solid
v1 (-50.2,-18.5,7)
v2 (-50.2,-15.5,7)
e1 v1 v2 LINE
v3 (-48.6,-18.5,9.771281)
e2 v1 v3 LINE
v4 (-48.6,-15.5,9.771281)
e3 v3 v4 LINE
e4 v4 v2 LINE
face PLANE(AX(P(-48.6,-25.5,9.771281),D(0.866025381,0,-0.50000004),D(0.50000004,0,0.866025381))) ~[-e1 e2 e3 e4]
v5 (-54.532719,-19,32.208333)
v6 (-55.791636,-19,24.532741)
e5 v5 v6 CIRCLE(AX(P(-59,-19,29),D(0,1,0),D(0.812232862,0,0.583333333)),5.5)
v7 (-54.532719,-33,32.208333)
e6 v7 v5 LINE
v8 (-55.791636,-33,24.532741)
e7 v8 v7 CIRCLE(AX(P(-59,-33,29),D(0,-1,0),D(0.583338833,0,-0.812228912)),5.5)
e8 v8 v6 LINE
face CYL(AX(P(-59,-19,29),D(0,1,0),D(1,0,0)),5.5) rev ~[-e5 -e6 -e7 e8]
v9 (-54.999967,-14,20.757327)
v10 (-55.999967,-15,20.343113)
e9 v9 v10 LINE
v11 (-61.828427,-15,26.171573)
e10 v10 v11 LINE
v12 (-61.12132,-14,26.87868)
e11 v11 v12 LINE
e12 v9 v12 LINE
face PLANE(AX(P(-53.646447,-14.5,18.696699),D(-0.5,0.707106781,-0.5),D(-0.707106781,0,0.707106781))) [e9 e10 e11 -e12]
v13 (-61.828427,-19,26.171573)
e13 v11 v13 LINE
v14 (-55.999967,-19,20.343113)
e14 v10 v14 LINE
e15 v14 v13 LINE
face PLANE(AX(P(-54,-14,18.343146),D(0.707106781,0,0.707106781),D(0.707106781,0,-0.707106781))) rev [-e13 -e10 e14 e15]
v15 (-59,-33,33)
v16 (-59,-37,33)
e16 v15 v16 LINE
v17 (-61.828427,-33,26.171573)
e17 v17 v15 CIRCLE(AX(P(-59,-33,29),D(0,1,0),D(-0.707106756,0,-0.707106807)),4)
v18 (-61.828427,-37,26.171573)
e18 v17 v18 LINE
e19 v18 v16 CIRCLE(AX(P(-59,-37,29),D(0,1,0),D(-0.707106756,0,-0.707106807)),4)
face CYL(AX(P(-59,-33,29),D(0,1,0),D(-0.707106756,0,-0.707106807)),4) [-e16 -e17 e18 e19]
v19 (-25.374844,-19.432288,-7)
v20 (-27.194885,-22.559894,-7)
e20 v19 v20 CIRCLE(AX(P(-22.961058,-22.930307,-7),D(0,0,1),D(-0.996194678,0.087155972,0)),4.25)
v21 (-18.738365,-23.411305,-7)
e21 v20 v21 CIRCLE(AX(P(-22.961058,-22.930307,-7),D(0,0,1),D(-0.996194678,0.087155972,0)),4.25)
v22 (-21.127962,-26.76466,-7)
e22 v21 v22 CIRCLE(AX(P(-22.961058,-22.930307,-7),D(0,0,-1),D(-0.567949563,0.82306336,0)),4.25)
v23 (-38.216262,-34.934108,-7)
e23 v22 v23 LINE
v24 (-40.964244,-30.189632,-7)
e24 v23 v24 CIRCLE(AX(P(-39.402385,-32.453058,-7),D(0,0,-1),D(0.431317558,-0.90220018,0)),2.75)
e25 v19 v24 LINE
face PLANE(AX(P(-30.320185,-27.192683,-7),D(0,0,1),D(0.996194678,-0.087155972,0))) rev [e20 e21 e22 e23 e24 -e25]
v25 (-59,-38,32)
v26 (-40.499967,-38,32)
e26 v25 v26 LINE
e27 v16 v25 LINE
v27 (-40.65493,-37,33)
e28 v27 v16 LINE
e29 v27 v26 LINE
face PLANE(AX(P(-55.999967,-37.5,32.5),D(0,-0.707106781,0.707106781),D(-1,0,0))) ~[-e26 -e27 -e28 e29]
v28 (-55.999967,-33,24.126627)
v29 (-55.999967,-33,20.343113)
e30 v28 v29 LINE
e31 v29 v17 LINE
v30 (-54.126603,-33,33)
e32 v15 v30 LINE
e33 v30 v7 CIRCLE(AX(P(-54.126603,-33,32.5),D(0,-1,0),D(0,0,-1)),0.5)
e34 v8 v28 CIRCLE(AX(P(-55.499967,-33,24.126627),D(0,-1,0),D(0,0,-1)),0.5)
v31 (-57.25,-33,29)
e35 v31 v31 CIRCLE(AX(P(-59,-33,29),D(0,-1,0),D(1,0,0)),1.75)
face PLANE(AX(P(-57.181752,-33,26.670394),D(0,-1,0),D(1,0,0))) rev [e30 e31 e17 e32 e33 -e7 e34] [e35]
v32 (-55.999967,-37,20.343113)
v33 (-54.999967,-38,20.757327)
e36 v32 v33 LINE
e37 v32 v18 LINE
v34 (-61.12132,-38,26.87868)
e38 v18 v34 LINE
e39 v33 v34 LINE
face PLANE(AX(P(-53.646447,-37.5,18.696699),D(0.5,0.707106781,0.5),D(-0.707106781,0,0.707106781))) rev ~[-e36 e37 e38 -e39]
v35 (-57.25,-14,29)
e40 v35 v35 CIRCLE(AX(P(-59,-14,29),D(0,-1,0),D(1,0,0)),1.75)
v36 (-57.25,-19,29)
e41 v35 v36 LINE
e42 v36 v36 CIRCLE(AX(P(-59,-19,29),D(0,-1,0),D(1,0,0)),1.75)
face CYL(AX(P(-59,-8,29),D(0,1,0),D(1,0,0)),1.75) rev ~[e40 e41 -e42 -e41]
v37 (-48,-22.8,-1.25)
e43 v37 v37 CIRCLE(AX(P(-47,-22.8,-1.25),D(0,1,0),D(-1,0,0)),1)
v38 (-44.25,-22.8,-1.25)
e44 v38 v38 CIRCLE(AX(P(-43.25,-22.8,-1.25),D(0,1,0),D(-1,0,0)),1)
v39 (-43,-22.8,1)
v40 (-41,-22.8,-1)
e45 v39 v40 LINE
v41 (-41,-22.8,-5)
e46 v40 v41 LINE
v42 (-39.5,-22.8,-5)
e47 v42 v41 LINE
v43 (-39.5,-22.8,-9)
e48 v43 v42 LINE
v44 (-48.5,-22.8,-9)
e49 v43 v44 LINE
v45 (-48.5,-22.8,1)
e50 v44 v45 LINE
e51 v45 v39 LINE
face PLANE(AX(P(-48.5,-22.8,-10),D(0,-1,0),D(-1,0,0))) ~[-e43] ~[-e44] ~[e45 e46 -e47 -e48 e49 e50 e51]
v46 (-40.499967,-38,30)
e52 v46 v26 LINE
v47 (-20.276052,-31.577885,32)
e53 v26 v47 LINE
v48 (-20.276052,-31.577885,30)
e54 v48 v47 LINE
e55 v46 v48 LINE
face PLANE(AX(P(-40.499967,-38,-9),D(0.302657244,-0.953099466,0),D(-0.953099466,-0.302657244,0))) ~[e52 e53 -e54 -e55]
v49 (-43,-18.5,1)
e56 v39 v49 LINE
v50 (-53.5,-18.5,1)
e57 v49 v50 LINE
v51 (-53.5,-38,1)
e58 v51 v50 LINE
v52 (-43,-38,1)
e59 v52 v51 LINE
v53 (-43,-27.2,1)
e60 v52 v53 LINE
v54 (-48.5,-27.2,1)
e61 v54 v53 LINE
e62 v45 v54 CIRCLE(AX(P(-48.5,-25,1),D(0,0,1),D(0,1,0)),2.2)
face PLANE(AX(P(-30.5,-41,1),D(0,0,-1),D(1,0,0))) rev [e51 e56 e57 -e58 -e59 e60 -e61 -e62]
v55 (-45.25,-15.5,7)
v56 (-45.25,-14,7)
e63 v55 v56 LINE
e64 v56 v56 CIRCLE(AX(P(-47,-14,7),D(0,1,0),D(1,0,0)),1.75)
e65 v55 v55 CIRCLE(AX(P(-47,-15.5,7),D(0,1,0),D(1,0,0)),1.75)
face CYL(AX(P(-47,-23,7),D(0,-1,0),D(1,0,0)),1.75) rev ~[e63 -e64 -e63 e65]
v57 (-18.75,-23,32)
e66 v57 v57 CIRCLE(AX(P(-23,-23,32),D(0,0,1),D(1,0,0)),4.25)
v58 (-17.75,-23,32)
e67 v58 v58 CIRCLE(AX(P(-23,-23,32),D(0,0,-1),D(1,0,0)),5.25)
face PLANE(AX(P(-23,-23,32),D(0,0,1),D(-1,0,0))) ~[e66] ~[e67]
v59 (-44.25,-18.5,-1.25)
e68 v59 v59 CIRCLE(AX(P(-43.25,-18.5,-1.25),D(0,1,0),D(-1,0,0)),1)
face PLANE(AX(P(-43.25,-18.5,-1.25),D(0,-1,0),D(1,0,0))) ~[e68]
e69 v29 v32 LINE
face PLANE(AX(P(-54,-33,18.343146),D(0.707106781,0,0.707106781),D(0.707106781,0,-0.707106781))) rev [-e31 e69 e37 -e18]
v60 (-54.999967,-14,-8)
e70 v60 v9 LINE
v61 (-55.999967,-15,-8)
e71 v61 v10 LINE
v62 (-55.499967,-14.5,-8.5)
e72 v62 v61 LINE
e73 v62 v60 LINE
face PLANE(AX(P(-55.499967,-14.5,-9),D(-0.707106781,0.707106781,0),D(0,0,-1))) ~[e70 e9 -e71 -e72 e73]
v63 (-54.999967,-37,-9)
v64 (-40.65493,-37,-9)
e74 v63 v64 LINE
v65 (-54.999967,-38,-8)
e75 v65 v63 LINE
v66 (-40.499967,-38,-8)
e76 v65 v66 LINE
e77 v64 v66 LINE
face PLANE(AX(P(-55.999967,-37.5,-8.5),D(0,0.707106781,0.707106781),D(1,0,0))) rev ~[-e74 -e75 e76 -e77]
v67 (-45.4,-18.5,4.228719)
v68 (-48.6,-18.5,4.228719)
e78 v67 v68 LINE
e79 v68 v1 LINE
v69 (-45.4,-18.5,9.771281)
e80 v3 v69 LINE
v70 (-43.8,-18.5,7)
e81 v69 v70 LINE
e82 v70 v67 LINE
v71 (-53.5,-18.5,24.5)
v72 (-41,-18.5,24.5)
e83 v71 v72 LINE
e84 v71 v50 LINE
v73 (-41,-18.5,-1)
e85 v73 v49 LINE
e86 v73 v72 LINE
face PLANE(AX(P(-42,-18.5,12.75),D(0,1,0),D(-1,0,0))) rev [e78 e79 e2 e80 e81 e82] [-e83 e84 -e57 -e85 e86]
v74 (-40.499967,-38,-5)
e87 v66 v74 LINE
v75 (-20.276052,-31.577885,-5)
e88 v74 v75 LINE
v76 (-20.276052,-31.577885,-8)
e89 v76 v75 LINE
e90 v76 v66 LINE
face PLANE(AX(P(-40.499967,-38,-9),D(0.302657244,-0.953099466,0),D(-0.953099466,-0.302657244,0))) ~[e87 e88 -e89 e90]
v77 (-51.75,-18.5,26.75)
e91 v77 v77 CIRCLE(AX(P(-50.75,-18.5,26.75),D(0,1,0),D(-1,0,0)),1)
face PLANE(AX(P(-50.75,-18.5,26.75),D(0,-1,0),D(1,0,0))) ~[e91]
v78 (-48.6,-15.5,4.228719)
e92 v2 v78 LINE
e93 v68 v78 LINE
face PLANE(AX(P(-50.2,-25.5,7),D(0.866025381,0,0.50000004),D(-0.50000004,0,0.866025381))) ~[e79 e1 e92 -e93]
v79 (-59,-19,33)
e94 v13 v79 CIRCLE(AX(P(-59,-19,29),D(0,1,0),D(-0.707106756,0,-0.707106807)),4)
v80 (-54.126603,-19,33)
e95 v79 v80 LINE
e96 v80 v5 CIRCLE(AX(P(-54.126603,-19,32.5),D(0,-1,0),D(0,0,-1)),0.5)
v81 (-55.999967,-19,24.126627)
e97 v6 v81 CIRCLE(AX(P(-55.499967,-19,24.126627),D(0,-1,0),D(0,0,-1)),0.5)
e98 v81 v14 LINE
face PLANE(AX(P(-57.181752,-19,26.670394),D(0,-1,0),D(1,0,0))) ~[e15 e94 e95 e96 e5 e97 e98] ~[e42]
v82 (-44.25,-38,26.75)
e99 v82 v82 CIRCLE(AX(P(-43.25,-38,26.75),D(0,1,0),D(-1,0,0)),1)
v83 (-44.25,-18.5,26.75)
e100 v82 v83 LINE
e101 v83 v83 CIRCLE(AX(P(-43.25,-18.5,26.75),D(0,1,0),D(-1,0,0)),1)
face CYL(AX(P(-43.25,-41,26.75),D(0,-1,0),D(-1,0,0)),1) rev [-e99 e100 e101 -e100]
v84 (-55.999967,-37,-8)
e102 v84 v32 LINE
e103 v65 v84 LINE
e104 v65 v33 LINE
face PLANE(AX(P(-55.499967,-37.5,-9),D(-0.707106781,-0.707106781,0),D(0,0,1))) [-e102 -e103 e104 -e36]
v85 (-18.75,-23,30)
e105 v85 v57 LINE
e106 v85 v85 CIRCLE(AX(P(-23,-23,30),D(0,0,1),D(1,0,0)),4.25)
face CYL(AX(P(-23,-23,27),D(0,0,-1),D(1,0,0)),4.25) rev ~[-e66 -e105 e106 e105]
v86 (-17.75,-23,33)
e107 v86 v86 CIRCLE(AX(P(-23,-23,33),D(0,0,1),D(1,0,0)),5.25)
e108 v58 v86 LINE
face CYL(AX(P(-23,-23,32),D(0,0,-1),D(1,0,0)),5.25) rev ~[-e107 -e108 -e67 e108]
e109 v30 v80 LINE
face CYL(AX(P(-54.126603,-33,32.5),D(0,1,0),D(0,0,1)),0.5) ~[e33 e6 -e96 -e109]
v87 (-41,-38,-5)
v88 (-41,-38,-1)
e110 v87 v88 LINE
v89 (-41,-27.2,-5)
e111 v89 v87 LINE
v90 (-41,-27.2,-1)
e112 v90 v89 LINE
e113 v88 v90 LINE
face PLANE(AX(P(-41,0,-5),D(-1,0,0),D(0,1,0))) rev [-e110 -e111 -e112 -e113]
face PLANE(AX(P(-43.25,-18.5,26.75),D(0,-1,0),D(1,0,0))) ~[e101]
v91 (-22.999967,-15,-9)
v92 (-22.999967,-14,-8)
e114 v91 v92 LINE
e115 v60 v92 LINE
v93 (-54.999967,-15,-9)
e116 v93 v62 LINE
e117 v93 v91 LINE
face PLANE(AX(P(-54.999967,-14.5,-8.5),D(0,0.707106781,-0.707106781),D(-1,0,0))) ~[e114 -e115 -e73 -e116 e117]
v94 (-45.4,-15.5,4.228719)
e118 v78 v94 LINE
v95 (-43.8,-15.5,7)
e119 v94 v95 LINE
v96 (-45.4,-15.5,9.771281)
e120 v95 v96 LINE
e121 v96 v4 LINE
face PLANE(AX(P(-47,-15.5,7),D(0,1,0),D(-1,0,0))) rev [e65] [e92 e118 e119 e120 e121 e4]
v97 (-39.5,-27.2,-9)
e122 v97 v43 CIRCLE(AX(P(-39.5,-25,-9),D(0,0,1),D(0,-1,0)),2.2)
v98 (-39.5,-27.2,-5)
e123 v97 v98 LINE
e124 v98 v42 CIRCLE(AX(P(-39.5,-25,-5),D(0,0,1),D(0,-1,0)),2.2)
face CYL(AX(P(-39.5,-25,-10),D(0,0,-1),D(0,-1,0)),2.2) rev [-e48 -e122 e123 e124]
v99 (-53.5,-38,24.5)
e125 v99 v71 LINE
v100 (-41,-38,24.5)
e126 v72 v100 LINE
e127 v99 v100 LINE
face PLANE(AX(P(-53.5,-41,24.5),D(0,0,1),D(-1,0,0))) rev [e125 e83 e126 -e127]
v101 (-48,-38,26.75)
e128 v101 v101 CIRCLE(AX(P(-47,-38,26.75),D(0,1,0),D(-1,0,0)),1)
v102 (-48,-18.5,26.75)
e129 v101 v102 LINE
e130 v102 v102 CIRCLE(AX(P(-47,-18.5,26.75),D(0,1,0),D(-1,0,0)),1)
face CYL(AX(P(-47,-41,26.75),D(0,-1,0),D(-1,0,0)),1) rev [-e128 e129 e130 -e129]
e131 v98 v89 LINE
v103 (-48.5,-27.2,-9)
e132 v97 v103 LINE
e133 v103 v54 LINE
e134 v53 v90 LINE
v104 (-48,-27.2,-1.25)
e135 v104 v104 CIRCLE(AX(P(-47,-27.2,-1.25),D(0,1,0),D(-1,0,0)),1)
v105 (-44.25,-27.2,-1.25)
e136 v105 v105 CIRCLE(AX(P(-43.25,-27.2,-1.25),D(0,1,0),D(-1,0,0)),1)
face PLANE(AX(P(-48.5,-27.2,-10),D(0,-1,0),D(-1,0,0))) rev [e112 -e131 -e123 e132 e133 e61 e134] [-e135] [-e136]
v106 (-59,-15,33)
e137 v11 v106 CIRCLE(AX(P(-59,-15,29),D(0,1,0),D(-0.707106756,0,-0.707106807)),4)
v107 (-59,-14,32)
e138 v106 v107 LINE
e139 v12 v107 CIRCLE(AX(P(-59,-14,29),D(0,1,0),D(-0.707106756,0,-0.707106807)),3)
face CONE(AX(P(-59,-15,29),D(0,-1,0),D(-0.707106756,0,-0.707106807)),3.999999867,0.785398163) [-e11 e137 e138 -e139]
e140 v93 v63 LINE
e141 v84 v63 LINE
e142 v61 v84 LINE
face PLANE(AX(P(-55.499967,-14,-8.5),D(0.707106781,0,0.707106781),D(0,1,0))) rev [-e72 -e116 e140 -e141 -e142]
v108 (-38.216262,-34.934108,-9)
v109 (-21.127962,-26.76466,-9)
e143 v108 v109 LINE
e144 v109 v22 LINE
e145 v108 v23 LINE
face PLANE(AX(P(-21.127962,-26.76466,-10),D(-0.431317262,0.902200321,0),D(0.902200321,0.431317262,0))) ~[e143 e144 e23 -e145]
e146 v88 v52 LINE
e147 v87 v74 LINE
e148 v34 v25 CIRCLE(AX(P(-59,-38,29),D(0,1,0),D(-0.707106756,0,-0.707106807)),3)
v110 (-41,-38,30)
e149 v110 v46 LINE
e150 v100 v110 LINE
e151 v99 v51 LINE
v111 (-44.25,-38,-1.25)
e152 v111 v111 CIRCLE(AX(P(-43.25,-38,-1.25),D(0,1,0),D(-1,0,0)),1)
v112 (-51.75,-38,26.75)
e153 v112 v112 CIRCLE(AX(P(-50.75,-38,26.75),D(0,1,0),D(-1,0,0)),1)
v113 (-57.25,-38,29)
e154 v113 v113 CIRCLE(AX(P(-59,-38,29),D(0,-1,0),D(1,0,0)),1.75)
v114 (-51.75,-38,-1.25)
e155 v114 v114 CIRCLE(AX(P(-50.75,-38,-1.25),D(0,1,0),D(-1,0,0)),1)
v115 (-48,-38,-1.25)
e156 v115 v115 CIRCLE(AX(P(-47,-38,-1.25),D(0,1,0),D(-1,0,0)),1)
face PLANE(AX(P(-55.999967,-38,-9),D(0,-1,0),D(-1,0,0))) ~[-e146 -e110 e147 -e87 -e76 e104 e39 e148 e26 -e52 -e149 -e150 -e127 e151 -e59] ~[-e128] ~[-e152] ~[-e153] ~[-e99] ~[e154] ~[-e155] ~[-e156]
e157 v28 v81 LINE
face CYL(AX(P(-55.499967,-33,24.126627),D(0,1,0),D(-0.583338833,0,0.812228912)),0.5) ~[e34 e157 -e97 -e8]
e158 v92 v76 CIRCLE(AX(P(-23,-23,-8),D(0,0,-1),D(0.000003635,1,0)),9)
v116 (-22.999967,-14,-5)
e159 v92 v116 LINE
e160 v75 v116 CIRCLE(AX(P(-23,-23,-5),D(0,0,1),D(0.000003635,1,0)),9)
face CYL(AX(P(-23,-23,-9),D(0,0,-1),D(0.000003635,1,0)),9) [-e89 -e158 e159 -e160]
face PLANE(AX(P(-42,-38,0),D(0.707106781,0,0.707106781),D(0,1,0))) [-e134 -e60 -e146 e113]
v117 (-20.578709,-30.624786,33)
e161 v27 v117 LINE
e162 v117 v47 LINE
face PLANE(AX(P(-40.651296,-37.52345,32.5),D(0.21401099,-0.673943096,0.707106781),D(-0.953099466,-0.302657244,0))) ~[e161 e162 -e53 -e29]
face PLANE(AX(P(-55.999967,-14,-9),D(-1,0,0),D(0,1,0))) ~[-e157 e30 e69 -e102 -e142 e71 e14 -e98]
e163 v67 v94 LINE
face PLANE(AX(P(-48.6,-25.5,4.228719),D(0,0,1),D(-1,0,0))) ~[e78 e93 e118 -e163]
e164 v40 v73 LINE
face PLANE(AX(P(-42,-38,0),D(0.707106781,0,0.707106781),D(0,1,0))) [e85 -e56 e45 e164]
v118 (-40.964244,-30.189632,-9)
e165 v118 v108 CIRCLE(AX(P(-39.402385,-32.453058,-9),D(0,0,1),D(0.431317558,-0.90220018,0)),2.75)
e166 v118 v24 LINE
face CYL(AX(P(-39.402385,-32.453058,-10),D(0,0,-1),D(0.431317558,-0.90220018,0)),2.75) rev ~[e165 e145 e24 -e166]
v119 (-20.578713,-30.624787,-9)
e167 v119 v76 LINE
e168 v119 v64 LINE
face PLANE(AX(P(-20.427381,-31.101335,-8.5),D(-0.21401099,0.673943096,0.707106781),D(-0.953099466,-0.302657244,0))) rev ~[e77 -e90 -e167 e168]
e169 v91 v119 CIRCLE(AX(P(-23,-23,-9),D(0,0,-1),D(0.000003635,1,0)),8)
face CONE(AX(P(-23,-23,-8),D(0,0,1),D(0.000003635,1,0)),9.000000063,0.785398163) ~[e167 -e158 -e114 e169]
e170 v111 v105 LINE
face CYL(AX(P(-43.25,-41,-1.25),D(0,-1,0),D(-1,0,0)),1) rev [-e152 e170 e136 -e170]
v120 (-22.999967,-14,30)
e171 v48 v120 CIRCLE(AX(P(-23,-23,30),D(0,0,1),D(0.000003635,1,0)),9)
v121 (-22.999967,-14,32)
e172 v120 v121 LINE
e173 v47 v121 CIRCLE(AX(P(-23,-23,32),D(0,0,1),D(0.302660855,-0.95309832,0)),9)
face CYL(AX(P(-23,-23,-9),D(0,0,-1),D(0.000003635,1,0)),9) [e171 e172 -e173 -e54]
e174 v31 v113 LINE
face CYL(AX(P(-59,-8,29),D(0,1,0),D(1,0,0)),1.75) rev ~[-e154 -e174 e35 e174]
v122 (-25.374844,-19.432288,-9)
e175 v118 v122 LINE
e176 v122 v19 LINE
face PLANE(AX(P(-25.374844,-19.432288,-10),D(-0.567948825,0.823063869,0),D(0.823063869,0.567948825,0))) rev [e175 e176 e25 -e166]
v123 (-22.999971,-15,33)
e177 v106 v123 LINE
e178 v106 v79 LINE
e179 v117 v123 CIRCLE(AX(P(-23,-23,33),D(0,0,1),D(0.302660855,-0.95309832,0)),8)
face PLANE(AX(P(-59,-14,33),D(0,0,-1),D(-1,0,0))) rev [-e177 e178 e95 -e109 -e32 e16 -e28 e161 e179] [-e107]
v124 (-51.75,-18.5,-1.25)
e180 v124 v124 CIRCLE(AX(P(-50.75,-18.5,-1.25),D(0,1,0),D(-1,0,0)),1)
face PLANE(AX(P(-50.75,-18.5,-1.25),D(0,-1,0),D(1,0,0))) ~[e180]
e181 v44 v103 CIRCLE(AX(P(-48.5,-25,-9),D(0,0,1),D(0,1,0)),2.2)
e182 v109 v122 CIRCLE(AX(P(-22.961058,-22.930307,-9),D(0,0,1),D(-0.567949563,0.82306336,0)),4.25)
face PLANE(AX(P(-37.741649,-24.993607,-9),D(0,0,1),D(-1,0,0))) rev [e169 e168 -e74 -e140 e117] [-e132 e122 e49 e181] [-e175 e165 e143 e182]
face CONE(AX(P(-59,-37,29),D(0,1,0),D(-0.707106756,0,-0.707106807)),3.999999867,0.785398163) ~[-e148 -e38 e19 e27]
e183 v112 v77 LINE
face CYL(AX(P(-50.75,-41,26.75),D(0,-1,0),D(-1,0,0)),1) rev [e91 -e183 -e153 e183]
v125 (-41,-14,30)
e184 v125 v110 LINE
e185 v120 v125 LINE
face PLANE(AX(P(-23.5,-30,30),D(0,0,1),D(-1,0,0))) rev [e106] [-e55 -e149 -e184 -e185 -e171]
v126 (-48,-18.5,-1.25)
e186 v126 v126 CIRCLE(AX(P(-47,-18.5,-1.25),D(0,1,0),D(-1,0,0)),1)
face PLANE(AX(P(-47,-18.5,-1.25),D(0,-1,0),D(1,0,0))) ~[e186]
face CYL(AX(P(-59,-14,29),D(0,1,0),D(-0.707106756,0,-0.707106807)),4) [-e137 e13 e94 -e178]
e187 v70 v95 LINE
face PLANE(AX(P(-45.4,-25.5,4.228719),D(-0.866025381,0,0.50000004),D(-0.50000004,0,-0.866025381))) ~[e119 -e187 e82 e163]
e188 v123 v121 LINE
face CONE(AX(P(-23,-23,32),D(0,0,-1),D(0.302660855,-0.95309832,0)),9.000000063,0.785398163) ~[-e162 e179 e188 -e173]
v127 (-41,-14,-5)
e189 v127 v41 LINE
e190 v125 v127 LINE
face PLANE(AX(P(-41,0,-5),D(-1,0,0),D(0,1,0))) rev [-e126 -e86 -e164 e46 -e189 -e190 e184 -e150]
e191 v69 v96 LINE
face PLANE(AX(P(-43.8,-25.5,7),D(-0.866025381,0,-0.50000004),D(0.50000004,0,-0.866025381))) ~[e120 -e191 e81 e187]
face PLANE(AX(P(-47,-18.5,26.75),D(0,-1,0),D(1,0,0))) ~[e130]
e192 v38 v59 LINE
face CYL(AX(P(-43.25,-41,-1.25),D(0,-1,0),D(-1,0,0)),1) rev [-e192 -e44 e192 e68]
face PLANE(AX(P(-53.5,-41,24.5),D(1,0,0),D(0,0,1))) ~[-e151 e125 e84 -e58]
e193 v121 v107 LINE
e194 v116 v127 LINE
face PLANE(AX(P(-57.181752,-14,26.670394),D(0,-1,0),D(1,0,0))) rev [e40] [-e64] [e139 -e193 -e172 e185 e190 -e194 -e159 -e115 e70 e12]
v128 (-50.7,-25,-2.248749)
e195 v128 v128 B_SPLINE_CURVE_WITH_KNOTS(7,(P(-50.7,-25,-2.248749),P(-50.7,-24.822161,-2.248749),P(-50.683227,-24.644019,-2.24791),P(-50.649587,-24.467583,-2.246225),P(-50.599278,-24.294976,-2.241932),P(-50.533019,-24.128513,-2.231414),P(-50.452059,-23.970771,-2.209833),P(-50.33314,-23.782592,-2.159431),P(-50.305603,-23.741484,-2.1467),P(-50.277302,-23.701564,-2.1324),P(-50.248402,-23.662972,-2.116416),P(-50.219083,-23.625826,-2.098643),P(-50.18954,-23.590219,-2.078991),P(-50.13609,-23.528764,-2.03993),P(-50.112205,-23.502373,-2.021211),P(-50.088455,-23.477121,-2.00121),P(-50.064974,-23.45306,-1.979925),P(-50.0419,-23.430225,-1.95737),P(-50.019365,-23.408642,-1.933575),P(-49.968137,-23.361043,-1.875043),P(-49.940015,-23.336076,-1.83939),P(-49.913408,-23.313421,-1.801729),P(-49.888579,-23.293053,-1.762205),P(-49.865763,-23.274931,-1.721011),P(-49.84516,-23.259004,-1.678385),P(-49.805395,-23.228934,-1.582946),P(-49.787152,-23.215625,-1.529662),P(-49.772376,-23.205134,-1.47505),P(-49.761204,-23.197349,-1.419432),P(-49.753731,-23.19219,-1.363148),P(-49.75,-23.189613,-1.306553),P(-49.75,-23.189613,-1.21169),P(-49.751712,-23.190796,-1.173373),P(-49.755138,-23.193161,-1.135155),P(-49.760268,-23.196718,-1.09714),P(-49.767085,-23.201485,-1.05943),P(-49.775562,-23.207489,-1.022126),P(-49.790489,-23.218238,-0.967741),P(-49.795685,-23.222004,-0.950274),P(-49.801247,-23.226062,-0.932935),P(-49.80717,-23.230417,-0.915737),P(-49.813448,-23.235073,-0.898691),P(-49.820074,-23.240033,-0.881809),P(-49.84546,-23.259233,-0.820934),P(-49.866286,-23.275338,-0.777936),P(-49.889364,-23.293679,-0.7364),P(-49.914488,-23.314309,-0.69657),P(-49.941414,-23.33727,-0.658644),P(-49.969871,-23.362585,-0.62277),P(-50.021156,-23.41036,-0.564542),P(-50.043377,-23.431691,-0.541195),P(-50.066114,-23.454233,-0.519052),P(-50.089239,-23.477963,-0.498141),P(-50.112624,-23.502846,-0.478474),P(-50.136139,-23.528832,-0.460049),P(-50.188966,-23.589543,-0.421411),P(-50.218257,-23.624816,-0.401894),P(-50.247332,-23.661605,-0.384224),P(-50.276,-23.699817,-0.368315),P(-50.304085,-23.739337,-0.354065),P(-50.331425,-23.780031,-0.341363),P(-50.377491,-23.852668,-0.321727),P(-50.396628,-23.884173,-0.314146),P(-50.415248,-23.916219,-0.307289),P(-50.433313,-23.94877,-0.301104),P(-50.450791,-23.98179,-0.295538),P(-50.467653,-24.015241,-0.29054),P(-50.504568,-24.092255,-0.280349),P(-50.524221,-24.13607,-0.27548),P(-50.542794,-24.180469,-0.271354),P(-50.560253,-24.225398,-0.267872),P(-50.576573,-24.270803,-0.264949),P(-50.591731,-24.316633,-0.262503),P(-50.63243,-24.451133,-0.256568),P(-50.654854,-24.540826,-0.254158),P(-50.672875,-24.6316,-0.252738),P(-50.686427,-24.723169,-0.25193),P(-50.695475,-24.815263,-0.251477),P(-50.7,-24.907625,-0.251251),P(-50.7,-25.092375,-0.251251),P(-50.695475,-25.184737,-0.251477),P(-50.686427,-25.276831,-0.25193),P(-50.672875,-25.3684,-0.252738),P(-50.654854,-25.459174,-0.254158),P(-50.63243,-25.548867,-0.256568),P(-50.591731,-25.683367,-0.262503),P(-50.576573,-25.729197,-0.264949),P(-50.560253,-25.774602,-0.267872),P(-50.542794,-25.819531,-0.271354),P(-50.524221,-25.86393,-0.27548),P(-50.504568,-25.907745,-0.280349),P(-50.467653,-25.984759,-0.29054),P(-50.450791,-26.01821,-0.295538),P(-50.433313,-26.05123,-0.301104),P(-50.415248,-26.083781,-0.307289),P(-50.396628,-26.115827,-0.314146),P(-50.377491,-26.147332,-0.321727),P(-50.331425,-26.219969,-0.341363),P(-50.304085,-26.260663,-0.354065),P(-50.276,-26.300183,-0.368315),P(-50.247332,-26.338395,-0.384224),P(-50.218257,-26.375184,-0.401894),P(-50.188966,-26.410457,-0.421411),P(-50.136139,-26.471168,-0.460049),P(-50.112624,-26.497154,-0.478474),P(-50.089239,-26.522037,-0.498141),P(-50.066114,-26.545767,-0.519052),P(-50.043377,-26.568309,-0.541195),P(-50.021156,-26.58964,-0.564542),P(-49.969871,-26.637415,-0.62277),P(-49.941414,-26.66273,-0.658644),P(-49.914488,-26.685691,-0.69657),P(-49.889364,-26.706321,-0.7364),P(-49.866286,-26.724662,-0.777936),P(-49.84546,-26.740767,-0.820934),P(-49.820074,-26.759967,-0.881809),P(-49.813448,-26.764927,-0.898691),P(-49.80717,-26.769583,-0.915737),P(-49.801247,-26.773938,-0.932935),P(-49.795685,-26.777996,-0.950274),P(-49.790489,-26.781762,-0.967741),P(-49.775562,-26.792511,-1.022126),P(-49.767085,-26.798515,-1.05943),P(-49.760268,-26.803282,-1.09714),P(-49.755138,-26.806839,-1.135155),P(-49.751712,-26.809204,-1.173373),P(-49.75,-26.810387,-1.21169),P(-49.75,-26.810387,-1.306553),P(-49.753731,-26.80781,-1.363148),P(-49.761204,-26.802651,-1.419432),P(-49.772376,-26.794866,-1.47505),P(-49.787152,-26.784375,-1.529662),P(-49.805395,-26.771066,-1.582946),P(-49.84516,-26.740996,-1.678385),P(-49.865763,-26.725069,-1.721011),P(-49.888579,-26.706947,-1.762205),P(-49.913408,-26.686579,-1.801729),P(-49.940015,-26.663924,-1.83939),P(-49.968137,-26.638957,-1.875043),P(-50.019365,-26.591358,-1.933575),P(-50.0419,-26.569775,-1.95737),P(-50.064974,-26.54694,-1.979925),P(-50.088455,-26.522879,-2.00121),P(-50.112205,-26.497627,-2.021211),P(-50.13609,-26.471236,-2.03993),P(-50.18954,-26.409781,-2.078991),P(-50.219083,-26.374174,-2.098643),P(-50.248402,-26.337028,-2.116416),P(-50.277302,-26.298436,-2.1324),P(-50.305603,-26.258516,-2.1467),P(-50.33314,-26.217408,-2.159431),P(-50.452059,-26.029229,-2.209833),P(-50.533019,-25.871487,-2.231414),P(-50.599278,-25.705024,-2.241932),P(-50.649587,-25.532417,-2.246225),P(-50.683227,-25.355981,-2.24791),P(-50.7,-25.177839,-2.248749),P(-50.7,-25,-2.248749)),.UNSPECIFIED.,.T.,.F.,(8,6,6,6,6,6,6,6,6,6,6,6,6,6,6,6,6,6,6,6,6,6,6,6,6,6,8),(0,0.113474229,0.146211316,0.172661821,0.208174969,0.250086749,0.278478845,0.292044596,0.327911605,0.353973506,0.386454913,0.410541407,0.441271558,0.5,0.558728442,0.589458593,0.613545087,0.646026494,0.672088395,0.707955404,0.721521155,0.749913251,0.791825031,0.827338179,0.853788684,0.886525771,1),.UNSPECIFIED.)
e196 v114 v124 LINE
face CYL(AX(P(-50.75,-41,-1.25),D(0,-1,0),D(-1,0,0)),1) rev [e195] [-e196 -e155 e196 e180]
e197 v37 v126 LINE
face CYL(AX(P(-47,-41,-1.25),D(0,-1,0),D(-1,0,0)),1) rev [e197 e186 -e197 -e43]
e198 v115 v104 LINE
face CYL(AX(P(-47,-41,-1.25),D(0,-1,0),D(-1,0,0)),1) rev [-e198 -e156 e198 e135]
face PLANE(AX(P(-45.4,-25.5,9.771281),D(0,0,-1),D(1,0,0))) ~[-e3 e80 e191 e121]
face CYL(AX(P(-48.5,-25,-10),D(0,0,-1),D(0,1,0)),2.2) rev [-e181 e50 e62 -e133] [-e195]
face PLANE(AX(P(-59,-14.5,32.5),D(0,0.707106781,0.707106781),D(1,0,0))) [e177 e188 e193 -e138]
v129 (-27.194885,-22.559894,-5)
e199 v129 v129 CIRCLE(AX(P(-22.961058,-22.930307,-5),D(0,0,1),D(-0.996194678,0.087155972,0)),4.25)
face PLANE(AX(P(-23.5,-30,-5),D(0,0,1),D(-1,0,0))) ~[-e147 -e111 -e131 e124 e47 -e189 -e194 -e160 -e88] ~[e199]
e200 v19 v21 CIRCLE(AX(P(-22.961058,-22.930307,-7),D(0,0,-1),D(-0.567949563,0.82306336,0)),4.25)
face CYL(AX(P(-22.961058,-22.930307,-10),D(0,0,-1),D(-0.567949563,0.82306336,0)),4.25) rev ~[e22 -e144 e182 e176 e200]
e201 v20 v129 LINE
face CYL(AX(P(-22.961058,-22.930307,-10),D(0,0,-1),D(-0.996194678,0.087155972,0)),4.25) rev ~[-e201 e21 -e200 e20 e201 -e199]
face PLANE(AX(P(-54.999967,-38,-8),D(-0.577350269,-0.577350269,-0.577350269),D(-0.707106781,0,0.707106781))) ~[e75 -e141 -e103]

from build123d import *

# Parameters (mm, degrees)
SKETCH016_R            = 4.25
PAD015_DEPTH           = 30
PAD014_DEPTH           = 3
PRISM008_DEPTH         = 10
PRISM008_ROLL_ANGLE    = 90
PAD011_DEPTH           = 15
SKETCH010_R            = 1
PAD010_DEPTH           = 22.5
CYLINDER017_R          = 4.25
CYLINDER017_DEPTH      = 10
CYLINDER016_R          = 5.25
CYLINDER016_DEPTH      = 10
CYLINDER014_R          = 1.75
CYLINDER014_DEPTH      = 36
CYLINDER014_ROLL_ANGLE = -90
PAD004_DEPTH           = 5
CHAMFER002_SIZE        = 1
CYLINDER012_R          = 1.75
CYLINDER012_DEPTH      = 11
CYLINDER012_ROLL_ANGLE = 90
CYLINDER013_R          = 5.5
CYLINDER013_DEPTH      = 14
CYLINDER013_ROLL_ANGLE = -90
BOX010_W               = 35
BOX010_H               = 60
BOX010_DEPTH           = 35
PAD003_DEPTH           = 42
FILLET002_R            = 0.5
CHAMFER003_SIZE        = 1
CHAMFER006_SIZE        = 2
CHAMFER007_SIZE        = 1


with BuildPart() as pad015:
    # Sketch016 → Pad015 (new body)
    with BuildSketch(Plane(origin=(23.25, 34, -10), x_dir=(-0.996195, -0.087156, 0), z_dir=(0, 0, 1))):
        with Locations((47, 7)):
            Circle(SKETCH016_R)
    extrude(amount=PAD015_DEPTH)


with BuildPart() as fusion011:
    # Sketch014 → Pad014 (new body)
    with BuildSketch(Plane(origin=(23.25, 34, -10), x_dir=(-0.996195, -0.087156, 0), z_dir=(0, 0, 1))):
        with BuildLine():
            ThreePointArc((49.709474, 10.274332), (43.52198, 9.442514), (44.839693, 3.340003))
            Line((44.839693, 3.340003), (61.15095, -6.287705))
            ThreePointArc((61.15095, -6.287705), (64.799282, -5.499923), (64.301984, -1.800786))
            Line((49.709474, 10.274332), (64.301984, -1.800786))
        make_face()
    extrude(amount=PAD014_DEPTH)

    # Fusion011: union Pad015
    add(pad015.part)


with BuildPart() as fake_axis_nut_room:
    # Prism008 → Prism008 (new body)
    with BuildSketch(Plane.XY):
        Polygon((3.2, 0), (1.6, 2.771281), (-1.6, 2.771281), (-3.2, 0), (-1.6, -2.771281), (1.6, -2.771281), align=None)
    extrude(amount=PRISM008_DEPTH)


with BuildPart() as fake_axis_nut_room_1:
    # Prism008 roll: moved
    add(fake_axis_nut_room.part.rotate(Axis((0, 0, 0), (1, 0, 0)), PRISM008_ROLL_ANGLE))


with BuildPart() as fake_axis_nut_room_2:
    # Prism008 placement: moved
    add(fake_axis_nut_room_1.part.moved(Location((-47, 25.5, 7))))


with BuildPart() as pad011:
    # Sketch011 → Pad011 (new body)
    with BuildSketch(Plane(origin=(0, 0, -10), x_dir=(1, 0, 0), z_dir=(0, 0, -1))):
        with BuildLine():
            ThreePointArc((-48.5, -22.8), (-50.7, -25), (-48.5, -27.2))
            Line((-48.5, -27.2), (-39.5, -27.2))
            ThreePointArc((-39.5, -27.2), (-37.3, -25), (-39.5, -22.8))
            Line((-48.5, -22.8), (-39.5, -22.8))
        make_face()
    extrude(amount=-PAD011_DEPTH)


with BuildPart() as pad010:
    # Sketch010 → Pad010 (new body)
    with BuildSketch(Plane(origin=(0, 41, 0), x_dir=(-1, 0, 0), z_dir=(0, 1, 0))):
        with Locations((43.25, 26.75)):
            Circle(SKETCH010_R)
        with Locations((50.75, 26.75)):
            Circle(SKETCH010_R)
        with Locations((43.25, -1.25)):
            Circle(SKETCH010_R)
        with Locations((50.75, -1.25)):
            Circle(SKETCH010_R)
        with Locations((47, -1.25)):
            Circle(SKETCH010_R)
        with Locations((47, 26.75)):
            Circle(SKETCH010_R)
        Polygon((40.5, 24.5), (53.5, 24.5), (53.5, 1), (40.5, 1), (30.5, 1), (30.5, 24.5), align=None)
    extrude(amount=-PAD010_DEPTH)


with BuildPart() as cylinder017:
    # Cylinder017 → Cylinder017 (new body)
    with BuildSketch(Plane.XY.offset(-5)):
        Circle(CYLINDER017_R)
    extrude(amount=CYLINDER017_DEPTH)


with BuildPart() as fusion008:
    # Cylinder016 → Cylinder016 (new body)
    with BuildSketch(Plane.XY):
        Circle(CYLINDER016_R)
    extrude(amount=CYLINDER016_DEPTH)

    # Fusion008: union Cylinder017
    add(cylinder017.part)


with BuildPart() as fusion008_1:
    # Fusion008 placement: moved
    add(fusion008.part.moved(Location((-23, 23, 32))))


with BuildPart() as cilindro014:
    # Cylinder014 → Cylinder014 (new body)
    with BuildSketch(Plane.XY):
        Circle(CYLINDER014_R)
    extrude(amount=CYLINDER014_DEPTH)


with BuildPart() as cilindro014_1:
    # Cylinder014 roll: moved
    add(cilindro014.part.rotate(Axis((0, 0, 0), (1, 0, 0)), CYLINDER014_ROLL_ANGLE))


with BuildPart() as cilindro014_2:
    # Cylinder014 placement: moved
    add(cilindro014_1.part.moved(Location((-59, 8, 29))))


with BuildPart() as pad004:
    # Sketch004 → Pad004 (new body)
    with BuildSketch(Plane(origin=(0, 14, 0), x_dir=(-1, 0, 0), z_dir=(0, 1, 0))):
        with BuildLine():
            ThreePointArc((61.828427, 26.171573), (62.695518, 30.530734), (59, 33))
            Line((59, 33), (54, 33))
            Line((54, 33), (54, 18.343146))
            Line((54, 18.343146), (61.828427, 26.171573))
        make_face()
    extrude(amount=PAD004_DEPTH)


with BuildPart() as chamfer002:
    # Clone006 base: copy of Pad004
    add(pad004.part)


with BuildPart() as chamfer002_1:
    # Clone006 placement: moved
    add(chamfer002.part.moved(Location((0, 19, 0))))

    # Fusion006: union Pad004
    add(pad004.part)

    # Chamfer002
    chamfer002_edges = [chamfer002_1.edges().sort_by_distance(p)[0] for p in [
        (-62.695518, 14, 30.530734),
        (-62.695518, 38, 30.530734),
    ]]
    chamfer(chamfer002_edges, length=CHAMFER002_SIZE)


with BuildPart() as cilindro012:
    # Cylinder012 → Cylinder012 (new body)
    with BuildSketch(Plane.XY):
        Circle(CYLINDER012_R)
    extrude(amount=CYLINDER012_DEPTH)


with BuildPart() as cilindro012_1:
    # Cylinder012 roll: moved
    add(cilindro012.part.rotate(Axis((0, 0, 0), (1, 0, 0)), CYLINDER012_ROLL_ANGLE))


with BuildPart() as cilindro012_2:
    # Cylinder012 placement: moved
    add(cilindro012_1.part.moved(Location((-47, 23, 7))))


with BuildPart() as cilindro013:
    # Cylinder013 → Cylinder013 (new body)
    with BuildSketch(Plane.XY):
        Circle(CYLINDER013_R)
    extrude(amount=CYLINDER013_DEPTH)


with BuildPart() as cilindro013_1:
    # Cylinder013 roll: moved
    add(cilindro013.part.rotate(Axis((0, 0, 0), (1, 0, 0)), CYLINDER013_ROLL_ANGLE))


with BuildPart() as cilindro013_2:
    # Cylinder013 placement: moved
    add(cilindro013_1.part.moved(Location((-59, 19, 29))))


with BuildPart() as cubo010:
    # Box010 → Box010 (new body)
    with BuildSketch(Plane(origin=(-41, 0, -5), x_dir=(1, 0, 0), z_dir=(0, 0, 1))):
        with Locations((17.5, 30)):
            Rectangle(BOX010_W, BOX010_H)
    extrude(amount=BOX010_DEPTH)


with BuildPart() as clone_of_bracket:
    # Sketch003 → Pad003 (new body)
    with BuildSketch(Plane.XY.offset(-9)):
        with BuildLine():
            ThreePointArc((-22.999967, 14), (-14.106152, 21.621786), (-20.276052, 31.577885))
            Line((-40.499967, 38), (-20.276052, 31.577885))
            Line((-55.999967, 38), (-40.499967, 38))
            Line((-55.999967, 14), (-55.999967, 38))
            Line((-22.999967, 14), (-55.999967, 14))
        make_face()
    extrude(amount=PAD003_DEPTH)

    # Cut007: cut Cubo010
    add(cubo010.part, mode=Mode.SUBTRACT)

    # Cut008: cut Cilindro013
    add(cilindro013_2.part, mode=Mode.SUBTRACT)

    # Fillet002
    fillet002_edges = [clone_of_bracket.edges().sort_by_distance(p)[0] for p in [
        (-55.999967, 26, 24.390249),
        (-55.225083, 26, 33),
    ]]
    fillet(fillet002_edges, radius=FILLET002_R)

    # Chamfer003
    chamfer003_edges = [clone_of_bracket.edges().sort_by_distance(p)[0] for p in [
        (-55.999967, 14, 12),
        (-55.999967, 26, -9),
        (-55.999967, 38, 12),
        (-39.499967, 14, 33),
        (-14.106152, 21.621786, 33),
        (-48.249967, 38, 33),
        (-48.249967, 38, -9),
    ]]
    chamfer(chamfer003_edges, length=CHAMFER003_SIZE)

    # Cut010: cut Cilindro012
    add(cilindro012_2.part, mode=Mode.SUBTRACT)

    # Fusion007: union Chamfer002
    add(chamfer002_1.part)

    # Cut011: cut Cilindro014
    add(cilindro014_2.part, mode=Mode.SUBTRACT)

    # Cut012: cut Fusion008
    add(fusion008_1.part, mode=Mode.SUBTRACT)

    # Cut015: cut Pad010
    add(pad010.part, mode=Mode.SUBTRACT)

    # Chamfer006
    chamfer006_edges = [clone_of_bracket.edges().sort_by_distance(p)[0] for p in [
        (-41, 28.25, 1),
    ]]
    chamfer(chamfer006_edges, length=CHAMFER006_SIZE)

    # Cut016: cut Pad011
    add(pad011.part, mode=Mode.SUBTRACT)

    # Chamfer007
    chamfer007_edges = [clone_of_bracket.edges().sort_by_distance(p)[0] for p in [
        (-14.106152, 21.621786, -9),
    ]]
    chamfer(chamfer007_edges, length=CHAMFER007_SIZE)

    # Cut017: cut fake_axis_nut_room
    add(fake_axis_nut_room_2.part, mode=Mode.SUBTRACT)

    # Cut020: cut Fusion011
    add(fusion011.part, mode=Mode.SUBTRACT)


with BuildPart() as part_mirroring021:
    # Part__Mirroring021: instance of Clone of bracket
    add(clone_of_bracket.part.mirror(Plane(origin=(0, 0, 0), x_dir=(1, 0, 0), z_dir=(0, 1, 0))))


solid = part_mirroring021.part
